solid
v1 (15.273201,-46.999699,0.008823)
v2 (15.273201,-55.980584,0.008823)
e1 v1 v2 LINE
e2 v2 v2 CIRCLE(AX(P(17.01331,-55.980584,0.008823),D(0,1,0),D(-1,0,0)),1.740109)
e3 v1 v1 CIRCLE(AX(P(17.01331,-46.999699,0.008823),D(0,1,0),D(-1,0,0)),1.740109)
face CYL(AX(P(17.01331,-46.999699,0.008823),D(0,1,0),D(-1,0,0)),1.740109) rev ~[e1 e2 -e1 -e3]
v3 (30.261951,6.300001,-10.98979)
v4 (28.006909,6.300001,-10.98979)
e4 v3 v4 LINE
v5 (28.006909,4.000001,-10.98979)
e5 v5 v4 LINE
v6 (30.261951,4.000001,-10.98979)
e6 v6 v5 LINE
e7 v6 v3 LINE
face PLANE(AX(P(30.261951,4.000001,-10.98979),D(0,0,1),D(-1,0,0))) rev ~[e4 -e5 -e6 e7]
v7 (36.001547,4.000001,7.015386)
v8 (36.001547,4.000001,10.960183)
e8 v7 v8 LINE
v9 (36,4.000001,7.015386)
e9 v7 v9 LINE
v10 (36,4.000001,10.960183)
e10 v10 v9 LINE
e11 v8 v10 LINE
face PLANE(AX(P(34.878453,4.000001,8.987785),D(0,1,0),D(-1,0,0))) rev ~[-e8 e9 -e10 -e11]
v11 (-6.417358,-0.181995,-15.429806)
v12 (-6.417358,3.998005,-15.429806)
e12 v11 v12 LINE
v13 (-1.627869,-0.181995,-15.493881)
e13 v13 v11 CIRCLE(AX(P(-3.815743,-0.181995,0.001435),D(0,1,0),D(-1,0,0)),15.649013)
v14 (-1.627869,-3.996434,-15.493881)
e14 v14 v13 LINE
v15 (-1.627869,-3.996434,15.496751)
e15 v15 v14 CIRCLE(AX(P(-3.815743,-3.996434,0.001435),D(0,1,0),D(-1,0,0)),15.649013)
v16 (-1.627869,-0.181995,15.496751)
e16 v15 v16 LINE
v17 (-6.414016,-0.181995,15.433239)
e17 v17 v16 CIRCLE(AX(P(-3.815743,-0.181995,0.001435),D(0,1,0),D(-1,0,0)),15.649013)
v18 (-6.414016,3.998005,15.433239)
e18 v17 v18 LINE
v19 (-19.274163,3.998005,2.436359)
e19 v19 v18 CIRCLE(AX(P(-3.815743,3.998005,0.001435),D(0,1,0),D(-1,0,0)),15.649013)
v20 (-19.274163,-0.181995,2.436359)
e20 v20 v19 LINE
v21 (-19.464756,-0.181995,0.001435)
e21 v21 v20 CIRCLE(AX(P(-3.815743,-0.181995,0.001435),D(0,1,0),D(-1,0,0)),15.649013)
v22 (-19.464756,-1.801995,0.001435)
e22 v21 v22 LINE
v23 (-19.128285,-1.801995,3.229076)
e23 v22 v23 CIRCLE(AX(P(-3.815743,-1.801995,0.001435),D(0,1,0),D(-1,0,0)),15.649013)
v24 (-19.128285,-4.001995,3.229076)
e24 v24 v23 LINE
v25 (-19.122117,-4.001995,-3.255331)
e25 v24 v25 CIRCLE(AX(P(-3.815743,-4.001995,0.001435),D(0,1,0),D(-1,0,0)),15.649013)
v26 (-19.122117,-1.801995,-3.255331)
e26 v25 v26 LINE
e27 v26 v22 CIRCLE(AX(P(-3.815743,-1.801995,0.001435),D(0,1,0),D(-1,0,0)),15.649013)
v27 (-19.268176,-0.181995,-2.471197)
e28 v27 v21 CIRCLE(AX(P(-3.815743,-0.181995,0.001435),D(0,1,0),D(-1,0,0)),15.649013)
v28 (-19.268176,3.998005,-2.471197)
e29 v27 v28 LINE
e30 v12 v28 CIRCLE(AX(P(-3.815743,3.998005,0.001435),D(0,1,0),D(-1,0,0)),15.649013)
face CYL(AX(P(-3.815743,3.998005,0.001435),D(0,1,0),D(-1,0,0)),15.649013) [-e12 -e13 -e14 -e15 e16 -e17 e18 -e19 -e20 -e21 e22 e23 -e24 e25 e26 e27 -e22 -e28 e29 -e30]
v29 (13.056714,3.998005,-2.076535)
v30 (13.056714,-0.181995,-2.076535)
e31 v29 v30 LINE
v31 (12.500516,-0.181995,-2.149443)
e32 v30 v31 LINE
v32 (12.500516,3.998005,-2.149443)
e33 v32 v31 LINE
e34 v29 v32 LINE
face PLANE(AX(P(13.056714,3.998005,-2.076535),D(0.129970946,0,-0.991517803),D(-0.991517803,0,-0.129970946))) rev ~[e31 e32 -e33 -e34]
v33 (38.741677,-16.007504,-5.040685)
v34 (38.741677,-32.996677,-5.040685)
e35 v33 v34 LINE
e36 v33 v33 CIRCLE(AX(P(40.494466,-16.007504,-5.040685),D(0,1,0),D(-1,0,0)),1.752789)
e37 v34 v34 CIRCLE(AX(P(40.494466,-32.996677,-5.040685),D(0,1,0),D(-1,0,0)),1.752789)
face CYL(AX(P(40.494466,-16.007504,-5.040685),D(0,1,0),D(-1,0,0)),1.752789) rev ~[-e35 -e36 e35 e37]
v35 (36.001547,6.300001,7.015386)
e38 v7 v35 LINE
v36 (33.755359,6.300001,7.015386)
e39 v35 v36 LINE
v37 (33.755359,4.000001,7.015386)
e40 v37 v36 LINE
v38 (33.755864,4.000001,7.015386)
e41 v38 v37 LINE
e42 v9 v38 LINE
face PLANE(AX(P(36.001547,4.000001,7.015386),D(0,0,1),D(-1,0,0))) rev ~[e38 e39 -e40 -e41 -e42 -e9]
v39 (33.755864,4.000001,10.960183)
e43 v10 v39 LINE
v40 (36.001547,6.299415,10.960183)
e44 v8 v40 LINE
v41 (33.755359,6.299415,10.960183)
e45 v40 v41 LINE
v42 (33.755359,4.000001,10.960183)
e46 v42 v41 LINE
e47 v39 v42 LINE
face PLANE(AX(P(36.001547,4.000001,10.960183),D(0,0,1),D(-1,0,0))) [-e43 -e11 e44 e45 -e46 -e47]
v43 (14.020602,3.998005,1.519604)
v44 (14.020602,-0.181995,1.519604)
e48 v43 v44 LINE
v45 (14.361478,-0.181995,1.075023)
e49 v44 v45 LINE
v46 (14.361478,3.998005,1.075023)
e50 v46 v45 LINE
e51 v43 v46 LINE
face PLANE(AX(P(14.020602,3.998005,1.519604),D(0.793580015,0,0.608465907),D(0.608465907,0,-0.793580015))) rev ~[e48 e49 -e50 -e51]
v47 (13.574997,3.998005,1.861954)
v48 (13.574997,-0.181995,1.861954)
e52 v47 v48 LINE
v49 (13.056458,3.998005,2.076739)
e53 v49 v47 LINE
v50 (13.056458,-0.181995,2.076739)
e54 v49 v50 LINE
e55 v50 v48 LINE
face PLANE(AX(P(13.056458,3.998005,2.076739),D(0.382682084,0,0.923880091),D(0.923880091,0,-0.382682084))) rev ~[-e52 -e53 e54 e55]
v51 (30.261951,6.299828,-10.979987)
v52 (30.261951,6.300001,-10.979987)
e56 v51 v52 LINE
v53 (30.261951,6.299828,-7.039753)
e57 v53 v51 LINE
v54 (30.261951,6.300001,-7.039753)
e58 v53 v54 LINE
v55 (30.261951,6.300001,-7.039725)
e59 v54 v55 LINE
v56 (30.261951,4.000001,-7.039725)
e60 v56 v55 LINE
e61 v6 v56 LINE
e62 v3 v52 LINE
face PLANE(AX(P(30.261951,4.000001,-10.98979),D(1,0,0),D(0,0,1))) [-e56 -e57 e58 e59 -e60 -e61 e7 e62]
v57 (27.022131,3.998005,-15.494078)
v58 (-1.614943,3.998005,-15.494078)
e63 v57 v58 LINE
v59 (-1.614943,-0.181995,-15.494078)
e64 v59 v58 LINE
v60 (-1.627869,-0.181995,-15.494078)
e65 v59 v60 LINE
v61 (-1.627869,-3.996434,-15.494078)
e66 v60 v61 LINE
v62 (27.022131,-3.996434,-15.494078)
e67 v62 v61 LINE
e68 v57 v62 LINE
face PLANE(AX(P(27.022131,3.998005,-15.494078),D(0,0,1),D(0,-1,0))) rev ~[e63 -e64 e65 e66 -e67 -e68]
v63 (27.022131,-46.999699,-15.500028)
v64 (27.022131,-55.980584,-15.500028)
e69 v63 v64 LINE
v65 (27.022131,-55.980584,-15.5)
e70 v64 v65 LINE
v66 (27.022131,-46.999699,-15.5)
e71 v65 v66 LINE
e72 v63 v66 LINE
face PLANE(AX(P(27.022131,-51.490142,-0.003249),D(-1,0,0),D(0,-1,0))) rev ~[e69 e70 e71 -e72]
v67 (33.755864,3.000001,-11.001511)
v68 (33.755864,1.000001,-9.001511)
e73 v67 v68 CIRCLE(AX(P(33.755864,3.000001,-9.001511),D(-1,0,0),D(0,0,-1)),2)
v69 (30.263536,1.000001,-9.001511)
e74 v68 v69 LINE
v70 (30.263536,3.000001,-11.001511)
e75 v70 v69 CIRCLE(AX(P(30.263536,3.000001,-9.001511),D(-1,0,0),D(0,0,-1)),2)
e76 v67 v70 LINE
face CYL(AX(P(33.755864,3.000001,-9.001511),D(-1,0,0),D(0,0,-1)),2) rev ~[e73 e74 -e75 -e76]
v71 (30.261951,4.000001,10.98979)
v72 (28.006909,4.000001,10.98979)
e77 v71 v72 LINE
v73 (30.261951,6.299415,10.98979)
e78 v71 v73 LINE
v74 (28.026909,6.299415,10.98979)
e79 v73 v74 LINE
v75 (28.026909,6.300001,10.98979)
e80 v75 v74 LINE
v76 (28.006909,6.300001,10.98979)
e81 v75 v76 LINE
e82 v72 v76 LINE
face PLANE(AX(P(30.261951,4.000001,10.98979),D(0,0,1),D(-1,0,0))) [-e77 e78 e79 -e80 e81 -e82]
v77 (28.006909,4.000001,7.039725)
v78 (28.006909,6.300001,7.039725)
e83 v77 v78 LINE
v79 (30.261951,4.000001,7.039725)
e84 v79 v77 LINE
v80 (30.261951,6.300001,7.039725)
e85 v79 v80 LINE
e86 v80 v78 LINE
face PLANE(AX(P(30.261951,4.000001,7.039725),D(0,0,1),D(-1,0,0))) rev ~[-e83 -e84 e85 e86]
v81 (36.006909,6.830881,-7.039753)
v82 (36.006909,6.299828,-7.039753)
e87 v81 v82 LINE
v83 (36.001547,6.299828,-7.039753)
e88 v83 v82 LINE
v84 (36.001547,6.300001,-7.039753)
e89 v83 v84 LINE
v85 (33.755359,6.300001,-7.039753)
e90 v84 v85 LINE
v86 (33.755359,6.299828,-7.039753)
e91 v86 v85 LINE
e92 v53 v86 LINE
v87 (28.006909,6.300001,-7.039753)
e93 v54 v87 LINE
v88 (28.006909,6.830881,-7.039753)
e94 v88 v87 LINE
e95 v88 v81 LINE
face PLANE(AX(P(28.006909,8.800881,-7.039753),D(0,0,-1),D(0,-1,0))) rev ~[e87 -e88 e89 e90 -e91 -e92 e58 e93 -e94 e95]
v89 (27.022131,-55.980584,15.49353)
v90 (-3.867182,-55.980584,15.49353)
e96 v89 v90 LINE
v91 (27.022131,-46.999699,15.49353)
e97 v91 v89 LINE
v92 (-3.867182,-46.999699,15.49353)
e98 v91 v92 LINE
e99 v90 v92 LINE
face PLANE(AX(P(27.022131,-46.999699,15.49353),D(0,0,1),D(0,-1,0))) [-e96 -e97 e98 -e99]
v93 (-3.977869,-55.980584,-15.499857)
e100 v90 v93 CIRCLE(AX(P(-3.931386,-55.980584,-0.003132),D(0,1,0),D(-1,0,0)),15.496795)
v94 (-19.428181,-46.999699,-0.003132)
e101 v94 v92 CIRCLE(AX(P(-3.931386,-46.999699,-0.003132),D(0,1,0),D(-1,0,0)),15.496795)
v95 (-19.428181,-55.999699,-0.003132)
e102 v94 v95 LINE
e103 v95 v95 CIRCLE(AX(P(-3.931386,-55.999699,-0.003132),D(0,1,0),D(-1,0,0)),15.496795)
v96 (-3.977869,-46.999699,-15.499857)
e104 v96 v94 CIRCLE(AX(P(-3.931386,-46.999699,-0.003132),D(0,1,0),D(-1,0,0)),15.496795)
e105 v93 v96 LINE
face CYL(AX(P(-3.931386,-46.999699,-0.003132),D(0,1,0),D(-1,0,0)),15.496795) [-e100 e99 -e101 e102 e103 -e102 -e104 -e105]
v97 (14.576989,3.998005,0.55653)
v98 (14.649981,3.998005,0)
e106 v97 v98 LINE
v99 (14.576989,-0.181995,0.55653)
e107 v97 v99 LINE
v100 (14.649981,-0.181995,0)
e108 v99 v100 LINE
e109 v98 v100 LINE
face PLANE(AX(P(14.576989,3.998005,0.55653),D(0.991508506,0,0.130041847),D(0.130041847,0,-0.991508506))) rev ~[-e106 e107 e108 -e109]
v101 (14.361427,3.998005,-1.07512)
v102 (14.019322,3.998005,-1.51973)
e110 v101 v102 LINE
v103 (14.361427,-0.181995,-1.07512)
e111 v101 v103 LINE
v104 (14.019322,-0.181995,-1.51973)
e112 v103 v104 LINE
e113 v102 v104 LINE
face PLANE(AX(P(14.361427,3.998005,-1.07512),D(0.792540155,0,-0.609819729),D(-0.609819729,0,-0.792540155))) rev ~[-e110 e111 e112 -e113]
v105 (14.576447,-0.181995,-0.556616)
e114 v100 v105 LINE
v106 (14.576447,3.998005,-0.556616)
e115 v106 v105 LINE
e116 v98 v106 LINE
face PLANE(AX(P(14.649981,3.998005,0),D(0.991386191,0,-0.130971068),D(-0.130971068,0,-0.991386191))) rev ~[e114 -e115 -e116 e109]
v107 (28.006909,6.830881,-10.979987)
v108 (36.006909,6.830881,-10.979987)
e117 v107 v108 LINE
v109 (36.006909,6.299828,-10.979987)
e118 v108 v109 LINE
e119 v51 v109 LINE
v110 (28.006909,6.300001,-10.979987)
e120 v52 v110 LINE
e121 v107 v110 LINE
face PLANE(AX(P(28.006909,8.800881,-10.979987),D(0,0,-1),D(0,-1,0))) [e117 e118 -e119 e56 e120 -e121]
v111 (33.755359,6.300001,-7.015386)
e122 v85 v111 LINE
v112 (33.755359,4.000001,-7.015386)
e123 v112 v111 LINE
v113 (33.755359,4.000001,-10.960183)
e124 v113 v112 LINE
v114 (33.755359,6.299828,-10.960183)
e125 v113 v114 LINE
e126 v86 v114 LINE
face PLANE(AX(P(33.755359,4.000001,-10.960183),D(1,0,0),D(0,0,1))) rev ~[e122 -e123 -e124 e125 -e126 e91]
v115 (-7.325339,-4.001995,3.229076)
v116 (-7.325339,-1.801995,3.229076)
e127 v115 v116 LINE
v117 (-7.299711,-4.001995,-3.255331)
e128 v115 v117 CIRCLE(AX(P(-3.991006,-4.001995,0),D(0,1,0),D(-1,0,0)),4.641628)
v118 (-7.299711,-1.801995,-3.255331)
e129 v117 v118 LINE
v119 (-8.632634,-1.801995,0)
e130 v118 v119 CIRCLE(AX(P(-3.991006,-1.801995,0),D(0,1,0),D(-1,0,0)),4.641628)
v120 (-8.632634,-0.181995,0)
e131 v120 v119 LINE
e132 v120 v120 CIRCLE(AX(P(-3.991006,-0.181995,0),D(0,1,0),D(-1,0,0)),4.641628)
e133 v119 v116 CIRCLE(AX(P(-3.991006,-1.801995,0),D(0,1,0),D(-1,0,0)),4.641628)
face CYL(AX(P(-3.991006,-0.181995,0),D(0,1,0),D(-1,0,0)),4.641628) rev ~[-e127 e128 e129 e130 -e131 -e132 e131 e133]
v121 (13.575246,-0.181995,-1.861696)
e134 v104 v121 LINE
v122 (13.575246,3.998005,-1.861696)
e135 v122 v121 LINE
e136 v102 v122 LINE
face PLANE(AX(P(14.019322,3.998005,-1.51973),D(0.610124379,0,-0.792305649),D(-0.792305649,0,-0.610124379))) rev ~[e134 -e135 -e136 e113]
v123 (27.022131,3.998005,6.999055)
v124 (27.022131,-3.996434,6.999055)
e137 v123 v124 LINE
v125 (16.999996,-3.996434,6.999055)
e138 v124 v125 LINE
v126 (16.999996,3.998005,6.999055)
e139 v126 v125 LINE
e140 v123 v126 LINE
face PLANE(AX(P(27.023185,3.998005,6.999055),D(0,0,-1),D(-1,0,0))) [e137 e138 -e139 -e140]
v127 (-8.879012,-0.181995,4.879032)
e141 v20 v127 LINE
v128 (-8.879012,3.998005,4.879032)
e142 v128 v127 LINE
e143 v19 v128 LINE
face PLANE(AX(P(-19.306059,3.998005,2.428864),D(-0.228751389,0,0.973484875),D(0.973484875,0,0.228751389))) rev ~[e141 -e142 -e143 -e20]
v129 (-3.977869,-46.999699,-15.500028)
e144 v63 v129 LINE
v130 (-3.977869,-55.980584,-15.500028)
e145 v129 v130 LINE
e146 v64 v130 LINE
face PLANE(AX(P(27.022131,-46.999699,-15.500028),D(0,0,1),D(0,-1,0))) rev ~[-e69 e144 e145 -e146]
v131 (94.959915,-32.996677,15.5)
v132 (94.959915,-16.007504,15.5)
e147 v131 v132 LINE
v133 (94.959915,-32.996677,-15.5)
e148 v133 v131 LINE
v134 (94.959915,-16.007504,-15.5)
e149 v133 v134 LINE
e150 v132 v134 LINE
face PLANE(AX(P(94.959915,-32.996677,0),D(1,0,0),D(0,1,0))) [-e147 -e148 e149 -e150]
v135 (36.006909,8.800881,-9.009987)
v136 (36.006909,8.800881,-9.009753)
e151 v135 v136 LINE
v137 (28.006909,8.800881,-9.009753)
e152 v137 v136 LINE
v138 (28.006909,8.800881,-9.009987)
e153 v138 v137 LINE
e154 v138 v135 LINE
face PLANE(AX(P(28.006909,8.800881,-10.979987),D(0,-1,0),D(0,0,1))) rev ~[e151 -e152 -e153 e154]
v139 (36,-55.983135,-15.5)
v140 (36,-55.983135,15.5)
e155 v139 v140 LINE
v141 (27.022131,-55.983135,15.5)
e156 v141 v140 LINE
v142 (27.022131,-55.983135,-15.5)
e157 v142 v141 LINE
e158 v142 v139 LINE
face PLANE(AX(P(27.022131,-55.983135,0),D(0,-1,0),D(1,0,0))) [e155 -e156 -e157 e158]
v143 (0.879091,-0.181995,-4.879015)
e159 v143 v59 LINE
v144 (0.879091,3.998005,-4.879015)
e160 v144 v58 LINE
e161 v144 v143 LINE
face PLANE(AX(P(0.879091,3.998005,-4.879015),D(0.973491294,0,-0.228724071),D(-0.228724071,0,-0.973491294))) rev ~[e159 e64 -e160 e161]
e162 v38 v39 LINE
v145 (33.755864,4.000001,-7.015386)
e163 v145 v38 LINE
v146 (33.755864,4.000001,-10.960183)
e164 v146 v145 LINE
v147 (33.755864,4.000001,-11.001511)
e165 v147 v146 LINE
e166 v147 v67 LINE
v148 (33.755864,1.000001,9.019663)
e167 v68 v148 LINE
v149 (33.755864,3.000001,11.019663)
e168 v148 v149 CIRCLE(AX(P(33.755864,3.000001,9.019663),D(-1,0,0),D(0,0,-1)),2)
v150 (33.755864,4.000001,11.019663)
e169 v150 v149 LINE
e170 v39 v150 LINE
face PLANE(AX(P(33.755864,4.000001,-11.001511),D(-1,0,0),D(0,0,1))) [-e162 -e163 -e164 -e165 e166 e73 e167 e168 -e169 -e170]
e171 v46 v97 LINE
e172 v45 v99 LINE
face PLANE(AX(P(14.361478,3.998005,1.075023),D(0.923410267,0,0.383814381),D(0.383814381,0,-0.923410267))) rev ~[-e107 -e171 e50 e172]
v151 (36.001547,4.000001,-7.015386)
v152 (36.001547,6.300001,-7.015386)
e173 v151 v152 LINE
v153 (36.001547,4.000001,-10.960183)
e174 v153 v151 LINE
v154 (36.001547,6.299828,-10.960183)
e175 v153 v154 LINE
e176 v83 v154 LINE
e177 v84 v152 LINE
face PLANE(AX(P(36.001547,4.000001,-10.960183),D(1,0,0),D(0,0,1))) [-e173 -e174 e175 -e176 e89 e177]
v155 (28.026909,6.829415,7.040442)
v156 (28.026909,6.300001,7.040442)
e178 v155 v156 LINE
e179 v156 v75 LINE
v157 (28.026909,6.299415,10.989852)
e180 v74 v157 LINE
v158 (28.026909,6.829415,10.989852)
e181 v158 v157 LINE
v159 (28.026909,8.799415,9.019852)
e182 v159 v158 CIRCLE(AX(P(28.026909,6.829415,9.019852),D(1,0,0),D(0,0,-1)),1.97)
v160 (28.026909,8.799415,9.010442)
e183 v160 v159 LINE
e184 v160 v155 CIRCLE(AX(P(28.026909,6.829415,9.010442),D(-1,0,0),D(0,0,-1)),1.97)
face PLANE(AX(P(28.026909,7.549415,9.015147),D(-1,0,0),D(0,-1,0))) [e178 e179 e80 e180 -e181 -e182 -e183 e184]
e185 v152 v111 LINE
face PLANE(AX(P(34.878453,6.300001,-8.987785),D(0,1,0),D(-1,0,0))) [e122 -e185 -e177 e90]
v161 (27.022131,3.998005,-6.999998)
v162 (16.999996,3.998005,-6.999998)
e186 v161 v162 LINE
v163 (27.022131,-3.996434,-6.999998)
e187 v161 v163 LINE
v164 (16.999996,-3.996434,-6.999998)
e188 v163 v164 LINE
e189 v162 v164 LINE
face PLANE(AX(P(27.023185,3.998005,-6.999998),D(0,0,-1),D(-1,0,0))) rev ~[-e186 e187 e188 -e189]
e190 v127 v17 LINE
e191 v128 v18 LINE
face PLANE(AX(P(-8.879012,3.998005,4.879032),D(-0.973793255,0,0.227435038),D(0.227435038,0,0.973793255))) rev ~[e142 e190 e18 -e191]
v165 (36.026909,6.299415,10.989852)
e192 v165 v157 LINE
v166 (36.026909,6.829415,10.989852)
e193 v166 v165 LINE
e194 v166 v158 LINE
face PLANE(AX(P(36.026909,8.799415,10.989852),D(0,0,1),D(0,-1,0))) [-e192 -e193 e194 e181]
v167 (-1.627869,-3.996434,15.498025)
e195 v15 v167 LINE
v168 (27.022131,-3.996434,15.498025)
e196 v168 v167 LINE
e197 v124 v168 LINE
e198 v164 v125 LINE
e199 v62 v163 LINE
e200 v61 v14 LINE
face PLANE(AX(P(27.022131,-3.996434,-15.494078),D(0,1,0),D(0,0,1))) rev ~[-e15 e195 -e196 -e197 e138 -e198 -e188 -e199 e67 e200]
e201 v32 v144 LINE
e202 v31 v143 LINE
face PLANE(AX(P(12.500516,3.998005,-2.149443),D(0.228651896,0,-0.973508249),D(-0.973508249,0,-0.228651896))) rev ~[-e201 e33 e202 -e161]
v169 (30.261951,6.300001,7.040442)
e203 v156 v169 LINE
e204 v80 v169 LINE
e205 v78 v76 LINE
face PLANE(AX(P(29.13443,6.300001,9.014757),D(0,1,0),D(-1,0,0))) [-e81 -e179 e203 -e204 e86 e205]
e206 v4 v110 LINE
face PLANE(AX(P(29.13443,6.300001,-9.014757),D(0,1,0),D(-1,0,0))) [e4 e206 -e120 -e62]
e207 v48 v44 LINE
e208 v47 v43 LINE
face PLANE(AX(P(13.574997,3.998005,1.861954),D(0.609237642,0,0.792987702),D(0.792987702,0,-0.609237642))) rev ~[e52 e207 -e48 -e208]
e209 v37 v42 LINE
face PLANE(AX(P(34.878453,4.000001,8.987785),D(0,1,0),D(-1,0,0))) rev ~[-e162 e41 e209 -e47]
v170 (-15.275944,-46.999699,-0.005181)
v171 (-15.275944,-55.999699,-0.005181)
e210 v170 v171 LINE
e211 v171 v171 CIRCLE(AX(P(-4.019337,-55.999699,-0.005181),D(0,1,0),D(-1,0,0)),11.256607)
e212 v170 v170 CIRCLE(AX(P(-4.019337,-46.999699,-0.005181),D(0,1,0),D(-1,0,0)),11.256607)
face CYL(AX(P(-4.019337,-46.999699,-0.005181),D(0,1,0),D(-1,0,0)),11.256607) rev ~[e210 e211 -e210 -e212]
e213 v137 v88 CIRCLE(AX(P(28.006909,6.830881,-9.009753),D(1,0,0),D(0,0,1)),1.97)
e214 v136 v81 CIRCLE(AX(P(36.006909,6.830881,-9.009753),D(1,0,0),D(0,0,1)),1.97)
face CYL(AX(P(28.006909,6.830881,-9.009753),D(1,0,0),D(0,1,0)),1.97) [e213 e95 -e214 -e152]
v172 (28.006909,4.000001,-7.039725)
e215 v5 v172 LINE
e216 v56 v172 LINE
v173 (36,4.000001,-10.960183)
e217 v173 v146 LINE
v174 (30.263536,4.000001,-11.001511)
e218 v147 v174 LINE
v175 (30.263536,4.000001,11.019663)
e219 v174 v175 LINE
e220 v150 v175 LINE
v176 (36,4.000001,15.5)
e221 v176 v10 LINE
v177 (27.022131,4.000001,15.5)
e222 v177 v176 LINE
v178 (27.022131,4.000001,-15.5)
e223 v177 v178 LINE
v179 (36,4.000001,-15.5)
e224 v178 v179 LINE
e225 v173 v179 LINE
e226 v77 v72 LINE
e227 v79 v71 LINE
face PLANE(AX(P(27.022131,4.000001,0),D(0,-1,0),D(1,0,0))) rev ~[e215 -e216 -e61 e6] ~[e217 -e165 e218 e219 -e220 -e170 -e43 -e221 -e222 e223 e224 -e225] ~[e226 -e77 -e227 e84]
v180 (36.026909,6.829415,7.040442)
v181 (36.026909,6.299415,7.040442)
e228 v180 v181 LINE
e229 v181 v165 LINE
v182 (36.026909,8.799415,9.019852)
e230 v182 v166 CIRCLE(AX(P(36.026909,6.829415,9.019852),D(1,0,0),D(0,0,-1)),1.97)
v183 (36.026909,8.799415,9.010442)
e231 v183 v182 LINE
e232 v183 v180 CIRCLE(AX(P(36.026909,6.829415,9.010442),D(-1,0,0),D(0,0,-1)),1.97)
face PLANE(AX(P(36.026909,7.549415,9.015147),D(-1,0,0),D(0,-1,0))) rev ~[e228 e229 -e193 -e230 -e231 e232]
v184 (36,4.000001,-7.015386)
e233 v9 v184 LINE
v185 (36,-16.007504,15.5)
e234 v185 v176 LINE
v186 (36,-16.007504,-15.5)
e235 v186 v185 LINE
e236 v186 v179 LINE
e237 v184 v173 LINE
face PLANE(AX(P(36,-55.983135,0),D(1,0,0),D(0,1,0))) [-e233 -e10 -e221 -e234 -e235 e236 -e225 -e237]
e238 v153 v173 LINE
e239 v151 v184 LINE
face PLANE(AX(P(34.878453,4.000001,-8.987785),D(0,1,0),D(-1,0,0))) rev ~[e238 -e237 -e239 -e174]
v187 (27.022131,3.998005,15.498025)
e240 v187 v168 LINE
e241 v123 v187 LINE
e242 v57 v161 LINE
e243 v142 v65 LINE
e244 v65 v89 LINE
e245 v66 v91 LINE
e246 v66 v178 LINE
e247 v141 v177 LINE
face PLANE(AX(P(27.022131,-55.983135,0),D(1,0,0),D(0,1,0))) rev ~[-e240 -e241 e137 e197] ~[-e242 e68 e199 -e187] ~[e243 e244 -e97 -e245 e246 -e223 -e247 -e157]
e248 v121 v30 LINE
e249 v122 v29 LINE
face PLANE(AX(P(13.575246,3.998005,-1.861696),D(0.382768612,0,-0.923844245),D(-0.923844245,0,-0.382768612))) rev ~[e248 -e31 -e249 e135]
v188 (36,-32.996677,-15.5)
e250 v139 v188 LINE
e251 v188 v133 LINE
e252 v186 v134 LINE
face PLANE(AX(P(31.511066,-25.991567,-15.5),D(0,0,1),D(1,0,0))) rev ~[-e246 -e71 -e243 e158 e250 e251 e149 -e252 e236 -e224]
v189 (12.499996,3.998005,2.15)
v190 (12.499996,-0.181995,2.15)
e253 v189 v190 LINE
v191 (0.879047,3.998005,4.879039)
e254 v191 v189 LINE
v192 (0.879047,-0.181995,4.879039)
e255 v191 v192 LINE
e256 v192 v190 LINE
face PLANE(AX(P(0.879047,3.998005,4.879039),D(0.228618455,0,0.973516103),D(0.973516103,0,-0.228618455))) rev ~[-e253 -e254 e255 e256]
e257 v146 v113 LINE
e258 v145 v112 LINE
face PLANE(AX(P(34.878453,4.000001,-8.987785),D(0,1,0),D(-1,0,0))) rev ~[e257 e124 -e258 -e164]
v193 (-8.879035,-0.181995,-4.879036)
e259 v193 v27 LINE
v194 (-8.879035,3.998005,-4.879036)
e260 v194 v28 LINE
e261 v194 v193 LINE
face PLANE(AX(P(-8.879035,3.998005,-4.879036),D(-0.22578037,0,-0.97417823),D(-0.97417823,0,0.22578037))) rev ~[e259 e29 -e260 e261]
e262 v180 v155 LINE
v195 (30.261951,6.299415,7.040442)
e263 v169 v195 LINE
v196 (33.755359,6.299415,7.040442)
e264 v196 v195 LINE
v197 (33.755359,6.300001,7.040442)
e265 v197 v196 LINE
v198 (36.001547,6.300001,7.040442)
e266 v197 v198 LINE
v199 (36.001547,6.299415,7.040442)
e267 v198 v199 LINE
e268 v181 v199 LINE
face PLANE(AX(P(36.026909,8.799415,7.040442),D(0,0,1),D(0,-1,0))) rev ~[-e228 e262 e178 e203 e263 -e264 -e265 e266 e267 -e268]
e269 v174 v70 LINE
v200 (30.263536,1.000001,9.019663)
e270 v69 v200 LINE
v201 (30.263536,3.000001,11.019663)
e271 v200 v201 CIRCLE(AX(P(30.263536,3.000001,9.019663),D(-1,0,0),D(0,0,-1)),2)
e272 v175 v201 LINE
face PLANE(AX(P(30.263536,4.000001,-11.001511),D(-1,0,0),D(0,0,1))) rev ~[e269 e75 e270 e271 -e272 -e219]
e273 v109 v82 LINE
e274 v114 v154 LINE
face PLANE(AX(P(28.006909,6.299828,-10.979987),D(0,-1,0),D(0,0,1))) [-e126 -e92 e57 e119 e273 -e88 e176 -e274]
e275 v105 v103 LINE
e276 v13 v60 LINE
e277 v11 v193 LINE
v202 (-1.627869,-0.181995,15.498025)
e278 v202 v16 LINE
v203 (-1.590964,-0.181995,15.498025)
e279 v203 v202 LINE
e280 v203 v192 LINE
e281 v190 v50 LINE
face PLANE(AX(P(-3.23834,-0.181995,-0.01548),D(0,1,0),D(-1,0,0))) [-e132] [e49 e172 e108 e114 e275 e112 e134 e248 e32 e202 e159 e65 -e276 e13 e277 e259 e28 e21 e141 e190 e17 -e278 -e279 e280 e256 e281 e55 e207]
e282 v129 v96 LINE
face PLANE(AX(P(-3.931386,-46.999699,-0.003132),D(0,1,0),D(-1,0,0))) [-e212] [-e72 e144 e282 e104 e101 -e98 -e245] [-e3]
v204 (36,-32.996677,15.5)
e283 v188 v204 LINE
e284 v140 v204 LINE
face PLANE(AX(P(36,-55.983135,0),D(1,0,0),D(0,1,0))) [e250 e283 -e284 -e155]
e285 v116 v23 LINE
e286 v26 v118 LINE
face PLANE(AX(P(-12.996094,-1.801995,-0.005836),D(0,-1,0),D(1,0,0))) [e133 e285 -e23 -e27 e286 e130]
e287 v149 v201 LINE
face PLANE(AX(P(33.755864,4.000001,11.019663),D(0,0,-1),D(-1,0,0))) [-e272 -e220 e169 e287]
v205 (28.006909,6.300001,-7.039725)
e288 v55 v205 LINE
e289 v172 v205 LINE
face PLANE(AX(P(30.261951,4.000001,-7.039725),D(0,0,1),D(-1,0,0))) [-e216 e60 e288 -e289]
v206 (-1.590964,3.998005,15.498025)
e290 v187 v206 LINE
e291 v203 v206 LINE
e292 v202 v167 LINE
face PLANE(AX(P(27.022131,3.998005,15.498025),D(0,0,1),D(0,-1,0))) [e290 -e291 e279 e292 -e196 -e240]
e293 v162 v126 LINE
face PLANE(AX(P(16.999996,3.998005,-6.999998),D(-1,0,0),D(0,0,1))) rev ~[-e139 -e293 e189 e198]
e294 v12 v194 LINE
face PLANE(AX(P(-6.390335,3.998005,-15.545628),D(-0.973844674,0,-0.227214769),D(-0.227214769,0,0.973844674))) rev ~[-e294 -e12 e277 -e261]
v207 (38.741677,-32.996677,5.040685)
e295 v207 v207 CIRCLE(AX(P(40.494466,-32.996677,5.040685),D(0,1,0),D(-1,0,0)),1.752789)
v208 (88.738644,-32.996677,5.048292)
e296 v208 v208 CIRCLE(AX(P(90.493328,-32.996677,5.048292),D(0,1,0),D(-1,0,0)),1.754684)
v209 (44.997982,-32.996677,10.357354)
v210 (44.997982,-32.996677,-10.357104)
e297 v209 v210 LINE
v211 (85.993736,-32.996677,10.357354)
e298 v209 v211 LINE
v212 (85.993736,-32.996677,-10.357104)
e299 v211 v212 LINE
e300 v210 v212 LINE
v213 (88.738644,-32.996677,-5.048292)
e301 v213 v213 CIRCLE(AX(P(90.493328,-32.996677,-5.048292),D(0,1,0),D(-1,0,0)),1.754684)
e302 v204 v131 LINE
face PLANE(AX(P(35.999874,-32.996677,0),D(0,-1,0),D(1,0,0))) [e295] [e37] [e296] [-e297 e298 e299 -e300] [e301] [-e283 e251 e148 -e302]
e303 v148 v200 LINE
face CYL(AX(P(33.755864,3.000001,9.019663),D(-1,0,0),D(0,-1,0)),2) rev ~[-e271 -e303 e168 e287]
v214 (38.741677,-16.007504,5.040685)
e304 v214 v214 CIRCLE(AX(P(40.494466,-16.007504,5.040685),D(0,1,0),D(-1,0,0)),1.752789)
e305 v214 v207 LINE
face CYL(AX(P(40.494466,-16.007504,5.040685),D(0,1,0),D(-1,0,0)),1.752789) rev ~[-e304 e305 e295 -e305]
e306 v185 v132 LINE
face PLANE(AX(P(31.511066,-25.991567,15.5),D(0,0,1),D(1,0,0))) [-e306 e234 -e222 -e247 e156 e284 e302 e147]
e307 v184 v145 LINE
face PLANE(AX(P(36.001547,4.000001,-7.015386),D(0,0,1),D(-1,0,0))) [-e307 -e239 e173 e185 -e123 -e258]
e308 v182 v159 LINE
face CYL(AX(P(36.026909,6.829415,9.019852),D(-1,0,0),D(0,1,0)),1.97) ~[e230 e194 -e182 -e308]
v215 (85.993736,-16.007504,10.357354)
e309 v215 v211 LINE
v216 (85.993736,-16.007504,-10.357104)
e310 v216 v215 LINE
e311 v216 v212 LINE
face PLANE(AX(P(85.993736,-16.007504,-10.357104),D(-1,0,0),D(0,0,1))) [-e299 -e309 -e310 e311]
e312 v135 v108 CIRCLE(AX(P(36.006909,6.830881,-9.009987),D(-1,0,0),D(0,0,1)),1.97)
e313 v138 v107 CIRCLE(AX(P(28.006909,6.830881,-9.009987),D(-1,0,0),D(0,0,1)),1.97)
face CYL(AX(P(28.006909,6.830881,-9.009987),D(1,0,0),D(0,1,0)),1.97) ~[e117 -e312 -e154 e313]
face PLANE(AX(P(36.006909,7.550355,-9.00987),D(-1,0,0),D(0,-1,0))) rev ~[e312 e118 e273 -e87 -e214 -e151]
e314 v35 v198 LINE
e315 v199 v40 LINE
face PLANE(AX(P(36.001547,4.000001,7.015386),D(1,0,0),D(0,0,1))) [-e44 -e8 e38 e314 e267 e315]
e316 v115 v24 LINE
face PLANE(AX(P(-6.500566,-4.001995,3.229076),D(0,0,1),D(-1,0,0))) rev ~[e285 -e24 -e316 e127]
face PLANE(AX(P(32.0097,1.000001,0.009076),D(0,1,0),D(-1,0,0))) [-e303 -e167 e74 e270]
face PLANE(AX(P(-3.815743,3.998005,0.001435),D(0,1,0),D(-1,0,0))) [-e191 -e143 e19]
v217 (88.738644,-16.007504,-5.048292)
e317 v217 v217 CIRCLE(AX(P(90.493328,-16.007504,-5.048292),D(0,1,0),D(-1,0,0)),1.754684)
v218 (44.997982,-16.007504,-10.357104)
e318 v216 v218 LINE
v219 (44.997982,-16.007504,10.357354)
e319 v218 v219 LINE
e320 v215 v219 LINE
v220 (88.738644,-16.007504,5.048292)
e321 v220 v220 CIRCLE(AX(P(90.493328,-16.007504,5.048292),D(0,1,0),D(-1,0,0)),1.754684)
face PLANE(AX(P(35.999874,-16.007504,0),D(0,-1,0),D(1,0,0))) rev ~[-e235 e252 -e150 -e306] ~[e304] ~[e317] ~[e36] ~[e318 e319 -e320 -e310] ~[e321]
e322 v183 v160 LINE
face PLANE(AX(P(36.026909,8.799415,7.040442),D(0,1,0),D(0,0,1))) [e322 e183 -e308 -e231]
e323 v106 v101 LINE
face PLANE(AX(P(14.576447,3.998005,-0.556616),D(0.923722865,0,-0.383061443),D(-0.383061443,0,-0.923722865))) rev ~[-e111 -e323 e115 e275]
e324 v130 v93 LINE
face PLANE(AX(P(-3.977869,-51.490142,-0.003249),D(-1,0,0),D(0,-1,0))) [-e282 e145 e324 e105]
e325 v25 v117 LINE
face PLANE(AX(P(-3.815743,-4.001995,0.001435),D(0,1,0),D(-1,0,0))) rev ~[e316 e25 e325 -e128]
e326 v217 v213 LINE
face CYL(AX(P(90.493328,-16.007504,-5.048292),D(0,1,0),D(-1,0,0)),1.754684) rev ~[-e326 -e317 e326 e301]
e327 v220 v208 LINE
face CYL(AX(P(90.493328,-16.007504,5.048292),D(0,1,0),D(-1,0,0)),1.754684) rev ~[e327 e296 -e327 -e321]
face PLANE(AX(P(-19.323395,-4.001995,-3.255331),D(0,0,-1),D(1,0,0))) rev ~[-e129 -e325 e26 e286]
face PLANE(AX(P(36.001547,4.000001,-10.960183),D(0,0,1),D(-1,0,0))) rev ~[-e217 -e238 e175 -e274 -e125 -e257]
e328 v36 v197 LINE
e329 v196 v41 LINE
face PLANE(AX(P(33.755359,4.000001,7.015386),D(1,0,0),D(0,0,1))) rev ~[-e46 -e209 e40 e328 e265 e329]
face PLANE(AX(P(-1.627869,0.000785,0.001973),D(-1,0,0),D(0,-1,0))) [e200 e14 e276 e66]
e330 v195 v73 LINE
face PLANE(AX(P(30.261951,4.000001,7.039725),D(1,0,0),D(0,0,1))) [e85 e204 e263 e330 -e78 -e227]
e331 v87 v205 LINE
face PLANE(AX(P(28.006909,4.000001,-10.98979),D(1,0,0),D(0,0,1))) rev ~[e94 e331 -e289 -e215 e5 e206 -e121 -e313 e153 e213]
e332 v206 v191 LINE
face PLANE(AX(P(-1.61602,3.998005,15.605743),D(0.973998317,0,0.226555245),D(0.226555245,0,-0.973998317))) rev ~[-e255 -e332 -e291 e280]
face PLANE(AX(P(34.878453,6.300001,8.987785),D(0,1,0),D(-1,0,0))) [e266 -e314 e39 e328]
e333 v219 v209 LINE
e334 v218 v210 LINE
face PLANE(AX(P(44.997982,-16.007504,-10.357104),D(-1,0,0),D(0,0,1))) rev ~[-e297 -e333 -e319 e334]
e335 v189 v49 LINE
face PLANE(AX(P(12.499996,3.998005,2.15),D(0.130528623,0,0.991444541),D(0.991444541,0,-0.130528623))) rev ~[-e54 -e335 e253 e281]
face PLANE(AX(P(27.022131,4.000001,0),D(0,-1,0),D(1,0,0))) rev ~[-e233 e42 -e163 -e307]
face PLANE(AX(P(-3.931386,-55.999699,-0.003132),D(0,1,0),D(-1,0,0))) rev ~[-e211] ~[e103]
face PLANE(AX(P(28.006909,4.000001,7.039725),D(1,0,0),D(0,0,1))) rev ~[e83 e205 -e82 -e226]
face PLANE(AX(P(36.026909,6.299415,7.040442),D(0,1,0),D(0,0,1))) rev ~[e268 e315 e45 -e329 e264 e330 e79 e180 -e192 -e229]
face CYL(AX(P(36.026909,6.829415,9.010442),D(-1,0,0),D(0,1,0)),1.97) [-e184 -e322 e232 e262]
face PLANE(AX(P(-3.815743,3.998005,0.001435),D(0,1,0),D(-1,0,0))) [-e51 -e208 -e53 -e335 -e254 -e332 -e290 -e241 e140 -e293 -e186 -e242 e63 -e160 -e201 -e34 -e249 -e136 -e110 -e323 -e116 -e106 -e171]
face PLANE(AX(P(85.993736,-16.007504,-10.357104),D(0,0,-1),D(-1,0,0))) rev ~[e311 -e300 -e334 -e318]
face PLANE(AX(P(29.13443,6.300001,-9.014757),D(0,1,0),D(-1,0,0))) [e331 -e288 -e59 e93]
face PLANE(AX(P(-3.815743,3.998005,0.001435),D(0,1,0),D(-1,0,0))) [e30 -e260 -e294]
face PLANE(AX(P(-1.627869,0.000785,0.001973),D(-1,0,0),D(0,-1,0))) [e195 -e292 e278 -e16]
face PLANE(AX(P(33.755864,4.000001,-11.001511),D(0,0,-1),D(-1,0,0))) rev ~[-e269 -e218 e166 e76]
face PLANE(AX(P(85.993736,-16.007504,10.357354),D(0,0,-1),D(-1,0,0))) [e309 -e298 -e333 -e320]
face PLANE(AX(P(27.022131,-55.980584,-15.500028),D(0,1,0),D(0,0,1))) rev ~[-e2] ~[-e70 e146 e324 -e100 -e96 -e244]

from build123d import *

# Parameters (mm, degrees)
SKETCH002_W     = 8.977869
SKETCH002_H     = 59.983136
PAD001_DEPTH    = 15.5
SKETCH003_W     = 3.492328
SKETCH003_H     = 22.021174
POCKET001_DEPTH = 3
FILLET_R        = 2
FILLET001_R     = 2
SKETCH004_W     = 2.246188
SKETCH004_H     = 3.944797
SKETCH004_W_2   = 2.255042
SKETCH004_H_2   = 3.950065
PAD002_DEPTH    = 2.3
SKETCH007_W     = 7.994439
SKETCH007_H     = 30.992103
PAD004_DEPTH    = 28.65
SKETCH008_R     = 15.649013
PAD005_DEPTH    = 8
SKETCH009_W     = 10.023189
SKETCH009_H     = 13.999053
POCKET002_DEPTH = 8.001
POCKET003_DEPTH = 4.18
SKETCH011_R     = 4.641628
POCKET004_DEPTH = 5
POCKET007_DEPTH = 2.2
SKETCH012_W     = 8.980885
SKETCH012_H     = 30.993558
PAD006_DEPTH    = 31
SKETCH013_R     = 15.496795
PAD007_DEPTH    = 9
SKETCH014_R     = 11.256607
POCKET005_DEPTH = 9.001
SKETCH015_R     = 1.740109
POCKET006_DEPTH = 9.001
SKETCH006_W     = 2.5
SKETCH006_H     = 3.94941
EXTRUDE_DEPTH   = 8
FILLET003_R     = 1.97
SKETCH005_W     = 2.501053
SKETCH005_H     = 3.940234
PAD003_DEPTH    = 8
FILLET002_R     = 1.97
SKETCH_W        = 58.960041
SKETCH_H        = 16.989173
PAD_DEPTH       = 15.5
SKETCH001_R     = 1.754684
SKETCH001_R_2   = 1.752789
SKETCH001_W     = 40.995754
SKETCH001_H     = 20.714458
POCKET_DEPTH    = 16.990173


with BuildPart() as rect_ngulo_vertical:
    # Sketch002 → Pad001 (new body, symmetric)
    with BuildSketch(Plane.XY):
        with Locations((31.5110655, -25.991567)):
            Rectangle(SKETCH002_W, SKETCH002_H)
    extrude(amount=PAD001_DEPTH, both=True)

    # Sketch003 (on Face1 of Pad001) → Pocket001 (cut)
    with BuildSketch(Plane(origin=(0, 4.000001, 0), x_dir=(-1, 0, 0), z_dir=(0, 1, 0))):
        with Locations((-32.0097, 0.009076)):
            Rectangle(SKETCH003_W, SKETCH003_H)
    extrude(amount=-POCKET001_DEPTH, mode=Mode.SUBTRACT)

    # Fillet
    fillet_edges = [rect_ngulo_vertical.edges().sort_by_distance(p)[0] for p in [
        (32.0097, 1.000001, -11.001511),
    ]]
    fillet(fillet_edges, radius=FILLET_R)

    # Fillet001
    fillet001_edges = [rect_ngulo_vertical.edges().sort_by_distance(p)[0] for p in [
        (32.0097, 1.000001, 11.019663),
    ]]
    fillet(fillet001_edges, radius=FILLET001_R)

    # Sketch004 (on Face7 of Fillet001) → Pad002 (join)
    with BuildSketch(Plane(origin=(0, 4.000001, 0), x_dir=(-1, 0, 0), z_dir=(0, 1, 0))):
        with Locations((-34.878453, -8.9877845)):
            Rectangle(SKETCH004_W, SKETCH004_H)
        with Locations((-29.13443, -9.0147575)):
            Rectangle(SKETCH004_W_2, SKETCH004_H_2)
        with Locations((-34.878453, 8.9877845)):
            Rectangle(SKETCH004_W, SKETCH004_H)
        with Locations((-29.13443, 9.0147575)):
            Rectangle(SKETCH004_W_2, SKETCH004_H_2)
    extrude(amount=PAD002_DEPTH)


with BuildPart() as parte_arriba_motor:
    # Sketch007 (on Face1 of CopyPad004) → Pad004 (new body)
    with BuildSketch(Plane(origin=(27.022131, 0, 0), x_dir=(0, -1, 0), z_dir=(-1, 0, 0))):
        with Locations((-0.0007855, 0.0019735)):
            Rectangle(SKETCH007_W, SKETCH007_H)
    extrude(amount=PAD004_DEPTH)

    # Sketch008 (on Face3 of Pad004) → Pad005 (join)
    with BuildSketch(Plane(origin=(0, 3.998005, 0), x_dir=(-1, 0, 0), z_dir=(0, 1, 0))):
        with Locations((3.815743, 0.001435)):
            Circle(SKETCH008_R)
    extrude(amount=-PAD005_DEPTH)

    # Sketch009 (on Face9 of Pad005) → Pocket002 (cut, through all)
    with BuildSketch(Plane(origin=(0, 3.998005, 0), x_dir=(-1, 0, 0), z_dir=(0, 1, 0))):
        with Locations((-22.0115905, -0.0004715)):
            Rectangle(SKETCH009_W, SKETCH009_H)
    extrude(amount=-POCKET002_DEPTH, mode=Mode.SUBTRACT)

    # Sketch010 (on Face12 of Pocket002) → Pocket003 (cut)
    with BuildSketch(Plane(origin=(0, 3.998005, 0), x_dir=(-1, 0, 0), z_dir=(0, 1, 0))):
        Polygon((-0.879047, 4.879039), (-12.499996, 2.15), (-13.056458, 2.076739), (-13.574997, 1.861954), (-14.020602, 1.519604), (-14.361478, 1.075023), (-14.576989, 0.55653), (-14.649981, 0), (-14.576447, -0.556616), (-14.361427, -1.07512), (-14.019322, -1.51973), (-13.575246, -1.861696), (-13.056714, -2.076535), (-12.500516, -2.149443), (-0.879091, -4.879015), (1.6565, -15.670952), (4.613011, -15.847545), (6.390335, -15.545628), (8.879035, -4.879036), (19.292059, -2.465662), (19.451073, -1.246381), (19.49725, -0.017855), (19.447609, 1.211716), (19.306059, 2.428864), (8.879012, 4.879032), (6.402977, 15.480504), (4.635699, 15.800562), (1.61602, 15.605743), align=None)
    extrude(amount=-POCKET003_DEPTH, mode=Mode.SUBTRACT)

    # Sketch011 (on Face14 of Pocket003) → Pocket004 (cut)
    with BuildSketch(Plane(origin=(0, -0.181995, 0), x_dir=(-1, 0, 0), z_dir=(0, 1, 0))):
        with Locations((3.991006, 0)):
            Circle(SKETCH011_R)
    extrude(amount=-POCKET004_DEPTH, mode=Mode.SUBTRACT)

    # Sketch016 (on Face20 of Pocket004) → Pocket007 (cut)
    with BuildSketch(Plane.XZ.offset(4.001995)):
        Polygon((-19.274756, 3.229076), (-19.698963, 0), (-19.323395, -3.255331), (-6.564783, -3.255331), (-7.508081, -1.875622), (-7.786129, -0.643242), (-7.892649, 0.261497), (-7.606458, 1.237008), (-7.387746, 2.244735), (-6.500566, 3.229076), align=None)
    extrude(amount=-POCKET007_DEPTH, mode=Mode.SUBTRACT)


with BuildPart() as parte_abajo_motor:
    # Sketch012 (on Face1 of CopyPad005) → Pad006 (new body)
    with BuildSketch(Plane(origin=(27.022131, 0, 0), x_dir=(0, -1, 0), z_dir=(-1, 0, 0))):
        with Locations((51.4901415, -0.003249)):
            Rectangle(SKETCH012_W, SKETCH012_H)
    extrude(amount=PAD006_DEPTH)

    # Sketch013 (on Face4 of Pad006) → Pad007 (join)
    with BuildSketch(Plane(origin=(0, -46.999699, 0), x_dir=(-1, 0, 0), z_dir=(0, 1, 0))):
        with Locations((3.931386, -0.003132)):
            Circle(SKETCH013_R)
    extrude(amount=-PAD007_DEPTH)

    # Sketch014 (on Face8 of Pad007) → Pocket005 (cut, through all)
    with BuildSketch(Plane(origin=(0, -46.999699, 0), x_dir=(-1, 0, 0), z_dir=(0, 1, 0))):
        with Locations((4.019337, -0.005181)):
            Circle(SKETCH014_R)
    extrude(amount=-POCKET005_DEPTH, mode=Mode.SUBTRACT)

    # Sketch015 (on Face2 of Pocket005) → Pocket006 (cut, through all)
    with BuildSketch(Plane(origin=(0, -46.999699, 0), x_dir=(-1, 0, 0), z_dir=(0, 1, 0))):
        with Locations((-17.01331, 0.008823)):
            Circle(SKETCH015_R)
    extrude(amount=-POCKET006_DEPTH, mode=Mode.SUBTRACT)


with BuildPart() as fillet003:
    # Sketch006 (on Face1 of CopyPad003) → Extrude (new body)
    with BuildSketch(Plane(origin=(28.006909, 0, 0), x_dir=(0, -1, 0), z_dir=(-1, 0, 0))):
        with Locations((-7.549415, 9.015147)):
            Rectangle(SKETCH006_W, SKETCH006_H)
    extrude(amount=EXTRUDE_DEPTH)


with BuildPart() as fillet003_1:
    # Extrude placement: moved
    add(fillet003.part.moved(Location((8.02, 0, 0))))

    # Fillet003
    fillet003_edges = [fillet003_1.edges().sort_by_distance(p)[0] for p in [
        (32.026909, 8.799415, 10.989852),
        (32.026909, 8.799415, 7.040442),
    ]]
    fillet(fillet003_edges, radius=FILLET003_R)


with BuildPart() as arcos:
    # Sketch005 (on Face1 of CopyPad002) → Pad003 (new body)
    with BuildSketch(Plane(origin=(28.006909, 0, 0), x_dir=(0, -1, 0), z_dir=(-1, 0, 0))):
        with Locations((-7.5503545, -9.00987)):
            Rectangle(SKETCH005_W, SKETCH005_H)
    extrude(amount=-PAD003_DEPTH)

    # Fillet002
    fillet002_edges = [arcos.edges().sort_by_distance(p)[0] for p in [
        (32.006909, 8.800881, -7.039753),
        (32.006909, 8.800881, -10.979987),
    ]]
    fillet(fillet002_edges, radius=FILLET002_R)

    # Fusion: union Fillet003
    add(fillet003_1.part)


with BuildPart() as eslab_n:
    # Sketch → Pad (new body, symmetric)
    with BuildSketch(Plane.XY):
        with Locations((65.4798945, -24.5020905)):
            Rectangle(SKETCH_W, SKETCH_H)
    extrude(amount=PAD_DEPTH, both=True)

    # Sketch001 (on Face1 of Pad) → Pocket (cut, through all)
    with BuildSketch(Plane(origin=(0, -16.007504, 0), x_dir=(-1, 0, 0), z_dir=(0, 1, 0))):
        with Locations((-90.493328, 5.048292)):
            Circle(SKETCH001_R)
        with Locations((-90.493328, -5.048292)):
            Circle(SKETCH001_R)
        with Locations((-40.494466, 5.040685)):
            Circle(SKETCH001_R_2)
        with Locations((-40.494466, -5.040685)):
            Circle(SKETCH001_R_2)
        with Locations((-65.495859, 0.000125)):
            Rectangle(SKETCH001_W, SKETCH001_H)
    extrude(amount=-POCKET_DEPTH, mode=Mode.SUBTRACT)

    # Fusion001: union rectángulo_vertical, parte_arriba_motor, parte_abajo_motor, arcos
    add(rect_ngulo_vertical.part)
    add(parte_arriba_motor.part)
    add(parte_abajo_motor.part)
    add(arcos.part)


solid = eslab_n.part
